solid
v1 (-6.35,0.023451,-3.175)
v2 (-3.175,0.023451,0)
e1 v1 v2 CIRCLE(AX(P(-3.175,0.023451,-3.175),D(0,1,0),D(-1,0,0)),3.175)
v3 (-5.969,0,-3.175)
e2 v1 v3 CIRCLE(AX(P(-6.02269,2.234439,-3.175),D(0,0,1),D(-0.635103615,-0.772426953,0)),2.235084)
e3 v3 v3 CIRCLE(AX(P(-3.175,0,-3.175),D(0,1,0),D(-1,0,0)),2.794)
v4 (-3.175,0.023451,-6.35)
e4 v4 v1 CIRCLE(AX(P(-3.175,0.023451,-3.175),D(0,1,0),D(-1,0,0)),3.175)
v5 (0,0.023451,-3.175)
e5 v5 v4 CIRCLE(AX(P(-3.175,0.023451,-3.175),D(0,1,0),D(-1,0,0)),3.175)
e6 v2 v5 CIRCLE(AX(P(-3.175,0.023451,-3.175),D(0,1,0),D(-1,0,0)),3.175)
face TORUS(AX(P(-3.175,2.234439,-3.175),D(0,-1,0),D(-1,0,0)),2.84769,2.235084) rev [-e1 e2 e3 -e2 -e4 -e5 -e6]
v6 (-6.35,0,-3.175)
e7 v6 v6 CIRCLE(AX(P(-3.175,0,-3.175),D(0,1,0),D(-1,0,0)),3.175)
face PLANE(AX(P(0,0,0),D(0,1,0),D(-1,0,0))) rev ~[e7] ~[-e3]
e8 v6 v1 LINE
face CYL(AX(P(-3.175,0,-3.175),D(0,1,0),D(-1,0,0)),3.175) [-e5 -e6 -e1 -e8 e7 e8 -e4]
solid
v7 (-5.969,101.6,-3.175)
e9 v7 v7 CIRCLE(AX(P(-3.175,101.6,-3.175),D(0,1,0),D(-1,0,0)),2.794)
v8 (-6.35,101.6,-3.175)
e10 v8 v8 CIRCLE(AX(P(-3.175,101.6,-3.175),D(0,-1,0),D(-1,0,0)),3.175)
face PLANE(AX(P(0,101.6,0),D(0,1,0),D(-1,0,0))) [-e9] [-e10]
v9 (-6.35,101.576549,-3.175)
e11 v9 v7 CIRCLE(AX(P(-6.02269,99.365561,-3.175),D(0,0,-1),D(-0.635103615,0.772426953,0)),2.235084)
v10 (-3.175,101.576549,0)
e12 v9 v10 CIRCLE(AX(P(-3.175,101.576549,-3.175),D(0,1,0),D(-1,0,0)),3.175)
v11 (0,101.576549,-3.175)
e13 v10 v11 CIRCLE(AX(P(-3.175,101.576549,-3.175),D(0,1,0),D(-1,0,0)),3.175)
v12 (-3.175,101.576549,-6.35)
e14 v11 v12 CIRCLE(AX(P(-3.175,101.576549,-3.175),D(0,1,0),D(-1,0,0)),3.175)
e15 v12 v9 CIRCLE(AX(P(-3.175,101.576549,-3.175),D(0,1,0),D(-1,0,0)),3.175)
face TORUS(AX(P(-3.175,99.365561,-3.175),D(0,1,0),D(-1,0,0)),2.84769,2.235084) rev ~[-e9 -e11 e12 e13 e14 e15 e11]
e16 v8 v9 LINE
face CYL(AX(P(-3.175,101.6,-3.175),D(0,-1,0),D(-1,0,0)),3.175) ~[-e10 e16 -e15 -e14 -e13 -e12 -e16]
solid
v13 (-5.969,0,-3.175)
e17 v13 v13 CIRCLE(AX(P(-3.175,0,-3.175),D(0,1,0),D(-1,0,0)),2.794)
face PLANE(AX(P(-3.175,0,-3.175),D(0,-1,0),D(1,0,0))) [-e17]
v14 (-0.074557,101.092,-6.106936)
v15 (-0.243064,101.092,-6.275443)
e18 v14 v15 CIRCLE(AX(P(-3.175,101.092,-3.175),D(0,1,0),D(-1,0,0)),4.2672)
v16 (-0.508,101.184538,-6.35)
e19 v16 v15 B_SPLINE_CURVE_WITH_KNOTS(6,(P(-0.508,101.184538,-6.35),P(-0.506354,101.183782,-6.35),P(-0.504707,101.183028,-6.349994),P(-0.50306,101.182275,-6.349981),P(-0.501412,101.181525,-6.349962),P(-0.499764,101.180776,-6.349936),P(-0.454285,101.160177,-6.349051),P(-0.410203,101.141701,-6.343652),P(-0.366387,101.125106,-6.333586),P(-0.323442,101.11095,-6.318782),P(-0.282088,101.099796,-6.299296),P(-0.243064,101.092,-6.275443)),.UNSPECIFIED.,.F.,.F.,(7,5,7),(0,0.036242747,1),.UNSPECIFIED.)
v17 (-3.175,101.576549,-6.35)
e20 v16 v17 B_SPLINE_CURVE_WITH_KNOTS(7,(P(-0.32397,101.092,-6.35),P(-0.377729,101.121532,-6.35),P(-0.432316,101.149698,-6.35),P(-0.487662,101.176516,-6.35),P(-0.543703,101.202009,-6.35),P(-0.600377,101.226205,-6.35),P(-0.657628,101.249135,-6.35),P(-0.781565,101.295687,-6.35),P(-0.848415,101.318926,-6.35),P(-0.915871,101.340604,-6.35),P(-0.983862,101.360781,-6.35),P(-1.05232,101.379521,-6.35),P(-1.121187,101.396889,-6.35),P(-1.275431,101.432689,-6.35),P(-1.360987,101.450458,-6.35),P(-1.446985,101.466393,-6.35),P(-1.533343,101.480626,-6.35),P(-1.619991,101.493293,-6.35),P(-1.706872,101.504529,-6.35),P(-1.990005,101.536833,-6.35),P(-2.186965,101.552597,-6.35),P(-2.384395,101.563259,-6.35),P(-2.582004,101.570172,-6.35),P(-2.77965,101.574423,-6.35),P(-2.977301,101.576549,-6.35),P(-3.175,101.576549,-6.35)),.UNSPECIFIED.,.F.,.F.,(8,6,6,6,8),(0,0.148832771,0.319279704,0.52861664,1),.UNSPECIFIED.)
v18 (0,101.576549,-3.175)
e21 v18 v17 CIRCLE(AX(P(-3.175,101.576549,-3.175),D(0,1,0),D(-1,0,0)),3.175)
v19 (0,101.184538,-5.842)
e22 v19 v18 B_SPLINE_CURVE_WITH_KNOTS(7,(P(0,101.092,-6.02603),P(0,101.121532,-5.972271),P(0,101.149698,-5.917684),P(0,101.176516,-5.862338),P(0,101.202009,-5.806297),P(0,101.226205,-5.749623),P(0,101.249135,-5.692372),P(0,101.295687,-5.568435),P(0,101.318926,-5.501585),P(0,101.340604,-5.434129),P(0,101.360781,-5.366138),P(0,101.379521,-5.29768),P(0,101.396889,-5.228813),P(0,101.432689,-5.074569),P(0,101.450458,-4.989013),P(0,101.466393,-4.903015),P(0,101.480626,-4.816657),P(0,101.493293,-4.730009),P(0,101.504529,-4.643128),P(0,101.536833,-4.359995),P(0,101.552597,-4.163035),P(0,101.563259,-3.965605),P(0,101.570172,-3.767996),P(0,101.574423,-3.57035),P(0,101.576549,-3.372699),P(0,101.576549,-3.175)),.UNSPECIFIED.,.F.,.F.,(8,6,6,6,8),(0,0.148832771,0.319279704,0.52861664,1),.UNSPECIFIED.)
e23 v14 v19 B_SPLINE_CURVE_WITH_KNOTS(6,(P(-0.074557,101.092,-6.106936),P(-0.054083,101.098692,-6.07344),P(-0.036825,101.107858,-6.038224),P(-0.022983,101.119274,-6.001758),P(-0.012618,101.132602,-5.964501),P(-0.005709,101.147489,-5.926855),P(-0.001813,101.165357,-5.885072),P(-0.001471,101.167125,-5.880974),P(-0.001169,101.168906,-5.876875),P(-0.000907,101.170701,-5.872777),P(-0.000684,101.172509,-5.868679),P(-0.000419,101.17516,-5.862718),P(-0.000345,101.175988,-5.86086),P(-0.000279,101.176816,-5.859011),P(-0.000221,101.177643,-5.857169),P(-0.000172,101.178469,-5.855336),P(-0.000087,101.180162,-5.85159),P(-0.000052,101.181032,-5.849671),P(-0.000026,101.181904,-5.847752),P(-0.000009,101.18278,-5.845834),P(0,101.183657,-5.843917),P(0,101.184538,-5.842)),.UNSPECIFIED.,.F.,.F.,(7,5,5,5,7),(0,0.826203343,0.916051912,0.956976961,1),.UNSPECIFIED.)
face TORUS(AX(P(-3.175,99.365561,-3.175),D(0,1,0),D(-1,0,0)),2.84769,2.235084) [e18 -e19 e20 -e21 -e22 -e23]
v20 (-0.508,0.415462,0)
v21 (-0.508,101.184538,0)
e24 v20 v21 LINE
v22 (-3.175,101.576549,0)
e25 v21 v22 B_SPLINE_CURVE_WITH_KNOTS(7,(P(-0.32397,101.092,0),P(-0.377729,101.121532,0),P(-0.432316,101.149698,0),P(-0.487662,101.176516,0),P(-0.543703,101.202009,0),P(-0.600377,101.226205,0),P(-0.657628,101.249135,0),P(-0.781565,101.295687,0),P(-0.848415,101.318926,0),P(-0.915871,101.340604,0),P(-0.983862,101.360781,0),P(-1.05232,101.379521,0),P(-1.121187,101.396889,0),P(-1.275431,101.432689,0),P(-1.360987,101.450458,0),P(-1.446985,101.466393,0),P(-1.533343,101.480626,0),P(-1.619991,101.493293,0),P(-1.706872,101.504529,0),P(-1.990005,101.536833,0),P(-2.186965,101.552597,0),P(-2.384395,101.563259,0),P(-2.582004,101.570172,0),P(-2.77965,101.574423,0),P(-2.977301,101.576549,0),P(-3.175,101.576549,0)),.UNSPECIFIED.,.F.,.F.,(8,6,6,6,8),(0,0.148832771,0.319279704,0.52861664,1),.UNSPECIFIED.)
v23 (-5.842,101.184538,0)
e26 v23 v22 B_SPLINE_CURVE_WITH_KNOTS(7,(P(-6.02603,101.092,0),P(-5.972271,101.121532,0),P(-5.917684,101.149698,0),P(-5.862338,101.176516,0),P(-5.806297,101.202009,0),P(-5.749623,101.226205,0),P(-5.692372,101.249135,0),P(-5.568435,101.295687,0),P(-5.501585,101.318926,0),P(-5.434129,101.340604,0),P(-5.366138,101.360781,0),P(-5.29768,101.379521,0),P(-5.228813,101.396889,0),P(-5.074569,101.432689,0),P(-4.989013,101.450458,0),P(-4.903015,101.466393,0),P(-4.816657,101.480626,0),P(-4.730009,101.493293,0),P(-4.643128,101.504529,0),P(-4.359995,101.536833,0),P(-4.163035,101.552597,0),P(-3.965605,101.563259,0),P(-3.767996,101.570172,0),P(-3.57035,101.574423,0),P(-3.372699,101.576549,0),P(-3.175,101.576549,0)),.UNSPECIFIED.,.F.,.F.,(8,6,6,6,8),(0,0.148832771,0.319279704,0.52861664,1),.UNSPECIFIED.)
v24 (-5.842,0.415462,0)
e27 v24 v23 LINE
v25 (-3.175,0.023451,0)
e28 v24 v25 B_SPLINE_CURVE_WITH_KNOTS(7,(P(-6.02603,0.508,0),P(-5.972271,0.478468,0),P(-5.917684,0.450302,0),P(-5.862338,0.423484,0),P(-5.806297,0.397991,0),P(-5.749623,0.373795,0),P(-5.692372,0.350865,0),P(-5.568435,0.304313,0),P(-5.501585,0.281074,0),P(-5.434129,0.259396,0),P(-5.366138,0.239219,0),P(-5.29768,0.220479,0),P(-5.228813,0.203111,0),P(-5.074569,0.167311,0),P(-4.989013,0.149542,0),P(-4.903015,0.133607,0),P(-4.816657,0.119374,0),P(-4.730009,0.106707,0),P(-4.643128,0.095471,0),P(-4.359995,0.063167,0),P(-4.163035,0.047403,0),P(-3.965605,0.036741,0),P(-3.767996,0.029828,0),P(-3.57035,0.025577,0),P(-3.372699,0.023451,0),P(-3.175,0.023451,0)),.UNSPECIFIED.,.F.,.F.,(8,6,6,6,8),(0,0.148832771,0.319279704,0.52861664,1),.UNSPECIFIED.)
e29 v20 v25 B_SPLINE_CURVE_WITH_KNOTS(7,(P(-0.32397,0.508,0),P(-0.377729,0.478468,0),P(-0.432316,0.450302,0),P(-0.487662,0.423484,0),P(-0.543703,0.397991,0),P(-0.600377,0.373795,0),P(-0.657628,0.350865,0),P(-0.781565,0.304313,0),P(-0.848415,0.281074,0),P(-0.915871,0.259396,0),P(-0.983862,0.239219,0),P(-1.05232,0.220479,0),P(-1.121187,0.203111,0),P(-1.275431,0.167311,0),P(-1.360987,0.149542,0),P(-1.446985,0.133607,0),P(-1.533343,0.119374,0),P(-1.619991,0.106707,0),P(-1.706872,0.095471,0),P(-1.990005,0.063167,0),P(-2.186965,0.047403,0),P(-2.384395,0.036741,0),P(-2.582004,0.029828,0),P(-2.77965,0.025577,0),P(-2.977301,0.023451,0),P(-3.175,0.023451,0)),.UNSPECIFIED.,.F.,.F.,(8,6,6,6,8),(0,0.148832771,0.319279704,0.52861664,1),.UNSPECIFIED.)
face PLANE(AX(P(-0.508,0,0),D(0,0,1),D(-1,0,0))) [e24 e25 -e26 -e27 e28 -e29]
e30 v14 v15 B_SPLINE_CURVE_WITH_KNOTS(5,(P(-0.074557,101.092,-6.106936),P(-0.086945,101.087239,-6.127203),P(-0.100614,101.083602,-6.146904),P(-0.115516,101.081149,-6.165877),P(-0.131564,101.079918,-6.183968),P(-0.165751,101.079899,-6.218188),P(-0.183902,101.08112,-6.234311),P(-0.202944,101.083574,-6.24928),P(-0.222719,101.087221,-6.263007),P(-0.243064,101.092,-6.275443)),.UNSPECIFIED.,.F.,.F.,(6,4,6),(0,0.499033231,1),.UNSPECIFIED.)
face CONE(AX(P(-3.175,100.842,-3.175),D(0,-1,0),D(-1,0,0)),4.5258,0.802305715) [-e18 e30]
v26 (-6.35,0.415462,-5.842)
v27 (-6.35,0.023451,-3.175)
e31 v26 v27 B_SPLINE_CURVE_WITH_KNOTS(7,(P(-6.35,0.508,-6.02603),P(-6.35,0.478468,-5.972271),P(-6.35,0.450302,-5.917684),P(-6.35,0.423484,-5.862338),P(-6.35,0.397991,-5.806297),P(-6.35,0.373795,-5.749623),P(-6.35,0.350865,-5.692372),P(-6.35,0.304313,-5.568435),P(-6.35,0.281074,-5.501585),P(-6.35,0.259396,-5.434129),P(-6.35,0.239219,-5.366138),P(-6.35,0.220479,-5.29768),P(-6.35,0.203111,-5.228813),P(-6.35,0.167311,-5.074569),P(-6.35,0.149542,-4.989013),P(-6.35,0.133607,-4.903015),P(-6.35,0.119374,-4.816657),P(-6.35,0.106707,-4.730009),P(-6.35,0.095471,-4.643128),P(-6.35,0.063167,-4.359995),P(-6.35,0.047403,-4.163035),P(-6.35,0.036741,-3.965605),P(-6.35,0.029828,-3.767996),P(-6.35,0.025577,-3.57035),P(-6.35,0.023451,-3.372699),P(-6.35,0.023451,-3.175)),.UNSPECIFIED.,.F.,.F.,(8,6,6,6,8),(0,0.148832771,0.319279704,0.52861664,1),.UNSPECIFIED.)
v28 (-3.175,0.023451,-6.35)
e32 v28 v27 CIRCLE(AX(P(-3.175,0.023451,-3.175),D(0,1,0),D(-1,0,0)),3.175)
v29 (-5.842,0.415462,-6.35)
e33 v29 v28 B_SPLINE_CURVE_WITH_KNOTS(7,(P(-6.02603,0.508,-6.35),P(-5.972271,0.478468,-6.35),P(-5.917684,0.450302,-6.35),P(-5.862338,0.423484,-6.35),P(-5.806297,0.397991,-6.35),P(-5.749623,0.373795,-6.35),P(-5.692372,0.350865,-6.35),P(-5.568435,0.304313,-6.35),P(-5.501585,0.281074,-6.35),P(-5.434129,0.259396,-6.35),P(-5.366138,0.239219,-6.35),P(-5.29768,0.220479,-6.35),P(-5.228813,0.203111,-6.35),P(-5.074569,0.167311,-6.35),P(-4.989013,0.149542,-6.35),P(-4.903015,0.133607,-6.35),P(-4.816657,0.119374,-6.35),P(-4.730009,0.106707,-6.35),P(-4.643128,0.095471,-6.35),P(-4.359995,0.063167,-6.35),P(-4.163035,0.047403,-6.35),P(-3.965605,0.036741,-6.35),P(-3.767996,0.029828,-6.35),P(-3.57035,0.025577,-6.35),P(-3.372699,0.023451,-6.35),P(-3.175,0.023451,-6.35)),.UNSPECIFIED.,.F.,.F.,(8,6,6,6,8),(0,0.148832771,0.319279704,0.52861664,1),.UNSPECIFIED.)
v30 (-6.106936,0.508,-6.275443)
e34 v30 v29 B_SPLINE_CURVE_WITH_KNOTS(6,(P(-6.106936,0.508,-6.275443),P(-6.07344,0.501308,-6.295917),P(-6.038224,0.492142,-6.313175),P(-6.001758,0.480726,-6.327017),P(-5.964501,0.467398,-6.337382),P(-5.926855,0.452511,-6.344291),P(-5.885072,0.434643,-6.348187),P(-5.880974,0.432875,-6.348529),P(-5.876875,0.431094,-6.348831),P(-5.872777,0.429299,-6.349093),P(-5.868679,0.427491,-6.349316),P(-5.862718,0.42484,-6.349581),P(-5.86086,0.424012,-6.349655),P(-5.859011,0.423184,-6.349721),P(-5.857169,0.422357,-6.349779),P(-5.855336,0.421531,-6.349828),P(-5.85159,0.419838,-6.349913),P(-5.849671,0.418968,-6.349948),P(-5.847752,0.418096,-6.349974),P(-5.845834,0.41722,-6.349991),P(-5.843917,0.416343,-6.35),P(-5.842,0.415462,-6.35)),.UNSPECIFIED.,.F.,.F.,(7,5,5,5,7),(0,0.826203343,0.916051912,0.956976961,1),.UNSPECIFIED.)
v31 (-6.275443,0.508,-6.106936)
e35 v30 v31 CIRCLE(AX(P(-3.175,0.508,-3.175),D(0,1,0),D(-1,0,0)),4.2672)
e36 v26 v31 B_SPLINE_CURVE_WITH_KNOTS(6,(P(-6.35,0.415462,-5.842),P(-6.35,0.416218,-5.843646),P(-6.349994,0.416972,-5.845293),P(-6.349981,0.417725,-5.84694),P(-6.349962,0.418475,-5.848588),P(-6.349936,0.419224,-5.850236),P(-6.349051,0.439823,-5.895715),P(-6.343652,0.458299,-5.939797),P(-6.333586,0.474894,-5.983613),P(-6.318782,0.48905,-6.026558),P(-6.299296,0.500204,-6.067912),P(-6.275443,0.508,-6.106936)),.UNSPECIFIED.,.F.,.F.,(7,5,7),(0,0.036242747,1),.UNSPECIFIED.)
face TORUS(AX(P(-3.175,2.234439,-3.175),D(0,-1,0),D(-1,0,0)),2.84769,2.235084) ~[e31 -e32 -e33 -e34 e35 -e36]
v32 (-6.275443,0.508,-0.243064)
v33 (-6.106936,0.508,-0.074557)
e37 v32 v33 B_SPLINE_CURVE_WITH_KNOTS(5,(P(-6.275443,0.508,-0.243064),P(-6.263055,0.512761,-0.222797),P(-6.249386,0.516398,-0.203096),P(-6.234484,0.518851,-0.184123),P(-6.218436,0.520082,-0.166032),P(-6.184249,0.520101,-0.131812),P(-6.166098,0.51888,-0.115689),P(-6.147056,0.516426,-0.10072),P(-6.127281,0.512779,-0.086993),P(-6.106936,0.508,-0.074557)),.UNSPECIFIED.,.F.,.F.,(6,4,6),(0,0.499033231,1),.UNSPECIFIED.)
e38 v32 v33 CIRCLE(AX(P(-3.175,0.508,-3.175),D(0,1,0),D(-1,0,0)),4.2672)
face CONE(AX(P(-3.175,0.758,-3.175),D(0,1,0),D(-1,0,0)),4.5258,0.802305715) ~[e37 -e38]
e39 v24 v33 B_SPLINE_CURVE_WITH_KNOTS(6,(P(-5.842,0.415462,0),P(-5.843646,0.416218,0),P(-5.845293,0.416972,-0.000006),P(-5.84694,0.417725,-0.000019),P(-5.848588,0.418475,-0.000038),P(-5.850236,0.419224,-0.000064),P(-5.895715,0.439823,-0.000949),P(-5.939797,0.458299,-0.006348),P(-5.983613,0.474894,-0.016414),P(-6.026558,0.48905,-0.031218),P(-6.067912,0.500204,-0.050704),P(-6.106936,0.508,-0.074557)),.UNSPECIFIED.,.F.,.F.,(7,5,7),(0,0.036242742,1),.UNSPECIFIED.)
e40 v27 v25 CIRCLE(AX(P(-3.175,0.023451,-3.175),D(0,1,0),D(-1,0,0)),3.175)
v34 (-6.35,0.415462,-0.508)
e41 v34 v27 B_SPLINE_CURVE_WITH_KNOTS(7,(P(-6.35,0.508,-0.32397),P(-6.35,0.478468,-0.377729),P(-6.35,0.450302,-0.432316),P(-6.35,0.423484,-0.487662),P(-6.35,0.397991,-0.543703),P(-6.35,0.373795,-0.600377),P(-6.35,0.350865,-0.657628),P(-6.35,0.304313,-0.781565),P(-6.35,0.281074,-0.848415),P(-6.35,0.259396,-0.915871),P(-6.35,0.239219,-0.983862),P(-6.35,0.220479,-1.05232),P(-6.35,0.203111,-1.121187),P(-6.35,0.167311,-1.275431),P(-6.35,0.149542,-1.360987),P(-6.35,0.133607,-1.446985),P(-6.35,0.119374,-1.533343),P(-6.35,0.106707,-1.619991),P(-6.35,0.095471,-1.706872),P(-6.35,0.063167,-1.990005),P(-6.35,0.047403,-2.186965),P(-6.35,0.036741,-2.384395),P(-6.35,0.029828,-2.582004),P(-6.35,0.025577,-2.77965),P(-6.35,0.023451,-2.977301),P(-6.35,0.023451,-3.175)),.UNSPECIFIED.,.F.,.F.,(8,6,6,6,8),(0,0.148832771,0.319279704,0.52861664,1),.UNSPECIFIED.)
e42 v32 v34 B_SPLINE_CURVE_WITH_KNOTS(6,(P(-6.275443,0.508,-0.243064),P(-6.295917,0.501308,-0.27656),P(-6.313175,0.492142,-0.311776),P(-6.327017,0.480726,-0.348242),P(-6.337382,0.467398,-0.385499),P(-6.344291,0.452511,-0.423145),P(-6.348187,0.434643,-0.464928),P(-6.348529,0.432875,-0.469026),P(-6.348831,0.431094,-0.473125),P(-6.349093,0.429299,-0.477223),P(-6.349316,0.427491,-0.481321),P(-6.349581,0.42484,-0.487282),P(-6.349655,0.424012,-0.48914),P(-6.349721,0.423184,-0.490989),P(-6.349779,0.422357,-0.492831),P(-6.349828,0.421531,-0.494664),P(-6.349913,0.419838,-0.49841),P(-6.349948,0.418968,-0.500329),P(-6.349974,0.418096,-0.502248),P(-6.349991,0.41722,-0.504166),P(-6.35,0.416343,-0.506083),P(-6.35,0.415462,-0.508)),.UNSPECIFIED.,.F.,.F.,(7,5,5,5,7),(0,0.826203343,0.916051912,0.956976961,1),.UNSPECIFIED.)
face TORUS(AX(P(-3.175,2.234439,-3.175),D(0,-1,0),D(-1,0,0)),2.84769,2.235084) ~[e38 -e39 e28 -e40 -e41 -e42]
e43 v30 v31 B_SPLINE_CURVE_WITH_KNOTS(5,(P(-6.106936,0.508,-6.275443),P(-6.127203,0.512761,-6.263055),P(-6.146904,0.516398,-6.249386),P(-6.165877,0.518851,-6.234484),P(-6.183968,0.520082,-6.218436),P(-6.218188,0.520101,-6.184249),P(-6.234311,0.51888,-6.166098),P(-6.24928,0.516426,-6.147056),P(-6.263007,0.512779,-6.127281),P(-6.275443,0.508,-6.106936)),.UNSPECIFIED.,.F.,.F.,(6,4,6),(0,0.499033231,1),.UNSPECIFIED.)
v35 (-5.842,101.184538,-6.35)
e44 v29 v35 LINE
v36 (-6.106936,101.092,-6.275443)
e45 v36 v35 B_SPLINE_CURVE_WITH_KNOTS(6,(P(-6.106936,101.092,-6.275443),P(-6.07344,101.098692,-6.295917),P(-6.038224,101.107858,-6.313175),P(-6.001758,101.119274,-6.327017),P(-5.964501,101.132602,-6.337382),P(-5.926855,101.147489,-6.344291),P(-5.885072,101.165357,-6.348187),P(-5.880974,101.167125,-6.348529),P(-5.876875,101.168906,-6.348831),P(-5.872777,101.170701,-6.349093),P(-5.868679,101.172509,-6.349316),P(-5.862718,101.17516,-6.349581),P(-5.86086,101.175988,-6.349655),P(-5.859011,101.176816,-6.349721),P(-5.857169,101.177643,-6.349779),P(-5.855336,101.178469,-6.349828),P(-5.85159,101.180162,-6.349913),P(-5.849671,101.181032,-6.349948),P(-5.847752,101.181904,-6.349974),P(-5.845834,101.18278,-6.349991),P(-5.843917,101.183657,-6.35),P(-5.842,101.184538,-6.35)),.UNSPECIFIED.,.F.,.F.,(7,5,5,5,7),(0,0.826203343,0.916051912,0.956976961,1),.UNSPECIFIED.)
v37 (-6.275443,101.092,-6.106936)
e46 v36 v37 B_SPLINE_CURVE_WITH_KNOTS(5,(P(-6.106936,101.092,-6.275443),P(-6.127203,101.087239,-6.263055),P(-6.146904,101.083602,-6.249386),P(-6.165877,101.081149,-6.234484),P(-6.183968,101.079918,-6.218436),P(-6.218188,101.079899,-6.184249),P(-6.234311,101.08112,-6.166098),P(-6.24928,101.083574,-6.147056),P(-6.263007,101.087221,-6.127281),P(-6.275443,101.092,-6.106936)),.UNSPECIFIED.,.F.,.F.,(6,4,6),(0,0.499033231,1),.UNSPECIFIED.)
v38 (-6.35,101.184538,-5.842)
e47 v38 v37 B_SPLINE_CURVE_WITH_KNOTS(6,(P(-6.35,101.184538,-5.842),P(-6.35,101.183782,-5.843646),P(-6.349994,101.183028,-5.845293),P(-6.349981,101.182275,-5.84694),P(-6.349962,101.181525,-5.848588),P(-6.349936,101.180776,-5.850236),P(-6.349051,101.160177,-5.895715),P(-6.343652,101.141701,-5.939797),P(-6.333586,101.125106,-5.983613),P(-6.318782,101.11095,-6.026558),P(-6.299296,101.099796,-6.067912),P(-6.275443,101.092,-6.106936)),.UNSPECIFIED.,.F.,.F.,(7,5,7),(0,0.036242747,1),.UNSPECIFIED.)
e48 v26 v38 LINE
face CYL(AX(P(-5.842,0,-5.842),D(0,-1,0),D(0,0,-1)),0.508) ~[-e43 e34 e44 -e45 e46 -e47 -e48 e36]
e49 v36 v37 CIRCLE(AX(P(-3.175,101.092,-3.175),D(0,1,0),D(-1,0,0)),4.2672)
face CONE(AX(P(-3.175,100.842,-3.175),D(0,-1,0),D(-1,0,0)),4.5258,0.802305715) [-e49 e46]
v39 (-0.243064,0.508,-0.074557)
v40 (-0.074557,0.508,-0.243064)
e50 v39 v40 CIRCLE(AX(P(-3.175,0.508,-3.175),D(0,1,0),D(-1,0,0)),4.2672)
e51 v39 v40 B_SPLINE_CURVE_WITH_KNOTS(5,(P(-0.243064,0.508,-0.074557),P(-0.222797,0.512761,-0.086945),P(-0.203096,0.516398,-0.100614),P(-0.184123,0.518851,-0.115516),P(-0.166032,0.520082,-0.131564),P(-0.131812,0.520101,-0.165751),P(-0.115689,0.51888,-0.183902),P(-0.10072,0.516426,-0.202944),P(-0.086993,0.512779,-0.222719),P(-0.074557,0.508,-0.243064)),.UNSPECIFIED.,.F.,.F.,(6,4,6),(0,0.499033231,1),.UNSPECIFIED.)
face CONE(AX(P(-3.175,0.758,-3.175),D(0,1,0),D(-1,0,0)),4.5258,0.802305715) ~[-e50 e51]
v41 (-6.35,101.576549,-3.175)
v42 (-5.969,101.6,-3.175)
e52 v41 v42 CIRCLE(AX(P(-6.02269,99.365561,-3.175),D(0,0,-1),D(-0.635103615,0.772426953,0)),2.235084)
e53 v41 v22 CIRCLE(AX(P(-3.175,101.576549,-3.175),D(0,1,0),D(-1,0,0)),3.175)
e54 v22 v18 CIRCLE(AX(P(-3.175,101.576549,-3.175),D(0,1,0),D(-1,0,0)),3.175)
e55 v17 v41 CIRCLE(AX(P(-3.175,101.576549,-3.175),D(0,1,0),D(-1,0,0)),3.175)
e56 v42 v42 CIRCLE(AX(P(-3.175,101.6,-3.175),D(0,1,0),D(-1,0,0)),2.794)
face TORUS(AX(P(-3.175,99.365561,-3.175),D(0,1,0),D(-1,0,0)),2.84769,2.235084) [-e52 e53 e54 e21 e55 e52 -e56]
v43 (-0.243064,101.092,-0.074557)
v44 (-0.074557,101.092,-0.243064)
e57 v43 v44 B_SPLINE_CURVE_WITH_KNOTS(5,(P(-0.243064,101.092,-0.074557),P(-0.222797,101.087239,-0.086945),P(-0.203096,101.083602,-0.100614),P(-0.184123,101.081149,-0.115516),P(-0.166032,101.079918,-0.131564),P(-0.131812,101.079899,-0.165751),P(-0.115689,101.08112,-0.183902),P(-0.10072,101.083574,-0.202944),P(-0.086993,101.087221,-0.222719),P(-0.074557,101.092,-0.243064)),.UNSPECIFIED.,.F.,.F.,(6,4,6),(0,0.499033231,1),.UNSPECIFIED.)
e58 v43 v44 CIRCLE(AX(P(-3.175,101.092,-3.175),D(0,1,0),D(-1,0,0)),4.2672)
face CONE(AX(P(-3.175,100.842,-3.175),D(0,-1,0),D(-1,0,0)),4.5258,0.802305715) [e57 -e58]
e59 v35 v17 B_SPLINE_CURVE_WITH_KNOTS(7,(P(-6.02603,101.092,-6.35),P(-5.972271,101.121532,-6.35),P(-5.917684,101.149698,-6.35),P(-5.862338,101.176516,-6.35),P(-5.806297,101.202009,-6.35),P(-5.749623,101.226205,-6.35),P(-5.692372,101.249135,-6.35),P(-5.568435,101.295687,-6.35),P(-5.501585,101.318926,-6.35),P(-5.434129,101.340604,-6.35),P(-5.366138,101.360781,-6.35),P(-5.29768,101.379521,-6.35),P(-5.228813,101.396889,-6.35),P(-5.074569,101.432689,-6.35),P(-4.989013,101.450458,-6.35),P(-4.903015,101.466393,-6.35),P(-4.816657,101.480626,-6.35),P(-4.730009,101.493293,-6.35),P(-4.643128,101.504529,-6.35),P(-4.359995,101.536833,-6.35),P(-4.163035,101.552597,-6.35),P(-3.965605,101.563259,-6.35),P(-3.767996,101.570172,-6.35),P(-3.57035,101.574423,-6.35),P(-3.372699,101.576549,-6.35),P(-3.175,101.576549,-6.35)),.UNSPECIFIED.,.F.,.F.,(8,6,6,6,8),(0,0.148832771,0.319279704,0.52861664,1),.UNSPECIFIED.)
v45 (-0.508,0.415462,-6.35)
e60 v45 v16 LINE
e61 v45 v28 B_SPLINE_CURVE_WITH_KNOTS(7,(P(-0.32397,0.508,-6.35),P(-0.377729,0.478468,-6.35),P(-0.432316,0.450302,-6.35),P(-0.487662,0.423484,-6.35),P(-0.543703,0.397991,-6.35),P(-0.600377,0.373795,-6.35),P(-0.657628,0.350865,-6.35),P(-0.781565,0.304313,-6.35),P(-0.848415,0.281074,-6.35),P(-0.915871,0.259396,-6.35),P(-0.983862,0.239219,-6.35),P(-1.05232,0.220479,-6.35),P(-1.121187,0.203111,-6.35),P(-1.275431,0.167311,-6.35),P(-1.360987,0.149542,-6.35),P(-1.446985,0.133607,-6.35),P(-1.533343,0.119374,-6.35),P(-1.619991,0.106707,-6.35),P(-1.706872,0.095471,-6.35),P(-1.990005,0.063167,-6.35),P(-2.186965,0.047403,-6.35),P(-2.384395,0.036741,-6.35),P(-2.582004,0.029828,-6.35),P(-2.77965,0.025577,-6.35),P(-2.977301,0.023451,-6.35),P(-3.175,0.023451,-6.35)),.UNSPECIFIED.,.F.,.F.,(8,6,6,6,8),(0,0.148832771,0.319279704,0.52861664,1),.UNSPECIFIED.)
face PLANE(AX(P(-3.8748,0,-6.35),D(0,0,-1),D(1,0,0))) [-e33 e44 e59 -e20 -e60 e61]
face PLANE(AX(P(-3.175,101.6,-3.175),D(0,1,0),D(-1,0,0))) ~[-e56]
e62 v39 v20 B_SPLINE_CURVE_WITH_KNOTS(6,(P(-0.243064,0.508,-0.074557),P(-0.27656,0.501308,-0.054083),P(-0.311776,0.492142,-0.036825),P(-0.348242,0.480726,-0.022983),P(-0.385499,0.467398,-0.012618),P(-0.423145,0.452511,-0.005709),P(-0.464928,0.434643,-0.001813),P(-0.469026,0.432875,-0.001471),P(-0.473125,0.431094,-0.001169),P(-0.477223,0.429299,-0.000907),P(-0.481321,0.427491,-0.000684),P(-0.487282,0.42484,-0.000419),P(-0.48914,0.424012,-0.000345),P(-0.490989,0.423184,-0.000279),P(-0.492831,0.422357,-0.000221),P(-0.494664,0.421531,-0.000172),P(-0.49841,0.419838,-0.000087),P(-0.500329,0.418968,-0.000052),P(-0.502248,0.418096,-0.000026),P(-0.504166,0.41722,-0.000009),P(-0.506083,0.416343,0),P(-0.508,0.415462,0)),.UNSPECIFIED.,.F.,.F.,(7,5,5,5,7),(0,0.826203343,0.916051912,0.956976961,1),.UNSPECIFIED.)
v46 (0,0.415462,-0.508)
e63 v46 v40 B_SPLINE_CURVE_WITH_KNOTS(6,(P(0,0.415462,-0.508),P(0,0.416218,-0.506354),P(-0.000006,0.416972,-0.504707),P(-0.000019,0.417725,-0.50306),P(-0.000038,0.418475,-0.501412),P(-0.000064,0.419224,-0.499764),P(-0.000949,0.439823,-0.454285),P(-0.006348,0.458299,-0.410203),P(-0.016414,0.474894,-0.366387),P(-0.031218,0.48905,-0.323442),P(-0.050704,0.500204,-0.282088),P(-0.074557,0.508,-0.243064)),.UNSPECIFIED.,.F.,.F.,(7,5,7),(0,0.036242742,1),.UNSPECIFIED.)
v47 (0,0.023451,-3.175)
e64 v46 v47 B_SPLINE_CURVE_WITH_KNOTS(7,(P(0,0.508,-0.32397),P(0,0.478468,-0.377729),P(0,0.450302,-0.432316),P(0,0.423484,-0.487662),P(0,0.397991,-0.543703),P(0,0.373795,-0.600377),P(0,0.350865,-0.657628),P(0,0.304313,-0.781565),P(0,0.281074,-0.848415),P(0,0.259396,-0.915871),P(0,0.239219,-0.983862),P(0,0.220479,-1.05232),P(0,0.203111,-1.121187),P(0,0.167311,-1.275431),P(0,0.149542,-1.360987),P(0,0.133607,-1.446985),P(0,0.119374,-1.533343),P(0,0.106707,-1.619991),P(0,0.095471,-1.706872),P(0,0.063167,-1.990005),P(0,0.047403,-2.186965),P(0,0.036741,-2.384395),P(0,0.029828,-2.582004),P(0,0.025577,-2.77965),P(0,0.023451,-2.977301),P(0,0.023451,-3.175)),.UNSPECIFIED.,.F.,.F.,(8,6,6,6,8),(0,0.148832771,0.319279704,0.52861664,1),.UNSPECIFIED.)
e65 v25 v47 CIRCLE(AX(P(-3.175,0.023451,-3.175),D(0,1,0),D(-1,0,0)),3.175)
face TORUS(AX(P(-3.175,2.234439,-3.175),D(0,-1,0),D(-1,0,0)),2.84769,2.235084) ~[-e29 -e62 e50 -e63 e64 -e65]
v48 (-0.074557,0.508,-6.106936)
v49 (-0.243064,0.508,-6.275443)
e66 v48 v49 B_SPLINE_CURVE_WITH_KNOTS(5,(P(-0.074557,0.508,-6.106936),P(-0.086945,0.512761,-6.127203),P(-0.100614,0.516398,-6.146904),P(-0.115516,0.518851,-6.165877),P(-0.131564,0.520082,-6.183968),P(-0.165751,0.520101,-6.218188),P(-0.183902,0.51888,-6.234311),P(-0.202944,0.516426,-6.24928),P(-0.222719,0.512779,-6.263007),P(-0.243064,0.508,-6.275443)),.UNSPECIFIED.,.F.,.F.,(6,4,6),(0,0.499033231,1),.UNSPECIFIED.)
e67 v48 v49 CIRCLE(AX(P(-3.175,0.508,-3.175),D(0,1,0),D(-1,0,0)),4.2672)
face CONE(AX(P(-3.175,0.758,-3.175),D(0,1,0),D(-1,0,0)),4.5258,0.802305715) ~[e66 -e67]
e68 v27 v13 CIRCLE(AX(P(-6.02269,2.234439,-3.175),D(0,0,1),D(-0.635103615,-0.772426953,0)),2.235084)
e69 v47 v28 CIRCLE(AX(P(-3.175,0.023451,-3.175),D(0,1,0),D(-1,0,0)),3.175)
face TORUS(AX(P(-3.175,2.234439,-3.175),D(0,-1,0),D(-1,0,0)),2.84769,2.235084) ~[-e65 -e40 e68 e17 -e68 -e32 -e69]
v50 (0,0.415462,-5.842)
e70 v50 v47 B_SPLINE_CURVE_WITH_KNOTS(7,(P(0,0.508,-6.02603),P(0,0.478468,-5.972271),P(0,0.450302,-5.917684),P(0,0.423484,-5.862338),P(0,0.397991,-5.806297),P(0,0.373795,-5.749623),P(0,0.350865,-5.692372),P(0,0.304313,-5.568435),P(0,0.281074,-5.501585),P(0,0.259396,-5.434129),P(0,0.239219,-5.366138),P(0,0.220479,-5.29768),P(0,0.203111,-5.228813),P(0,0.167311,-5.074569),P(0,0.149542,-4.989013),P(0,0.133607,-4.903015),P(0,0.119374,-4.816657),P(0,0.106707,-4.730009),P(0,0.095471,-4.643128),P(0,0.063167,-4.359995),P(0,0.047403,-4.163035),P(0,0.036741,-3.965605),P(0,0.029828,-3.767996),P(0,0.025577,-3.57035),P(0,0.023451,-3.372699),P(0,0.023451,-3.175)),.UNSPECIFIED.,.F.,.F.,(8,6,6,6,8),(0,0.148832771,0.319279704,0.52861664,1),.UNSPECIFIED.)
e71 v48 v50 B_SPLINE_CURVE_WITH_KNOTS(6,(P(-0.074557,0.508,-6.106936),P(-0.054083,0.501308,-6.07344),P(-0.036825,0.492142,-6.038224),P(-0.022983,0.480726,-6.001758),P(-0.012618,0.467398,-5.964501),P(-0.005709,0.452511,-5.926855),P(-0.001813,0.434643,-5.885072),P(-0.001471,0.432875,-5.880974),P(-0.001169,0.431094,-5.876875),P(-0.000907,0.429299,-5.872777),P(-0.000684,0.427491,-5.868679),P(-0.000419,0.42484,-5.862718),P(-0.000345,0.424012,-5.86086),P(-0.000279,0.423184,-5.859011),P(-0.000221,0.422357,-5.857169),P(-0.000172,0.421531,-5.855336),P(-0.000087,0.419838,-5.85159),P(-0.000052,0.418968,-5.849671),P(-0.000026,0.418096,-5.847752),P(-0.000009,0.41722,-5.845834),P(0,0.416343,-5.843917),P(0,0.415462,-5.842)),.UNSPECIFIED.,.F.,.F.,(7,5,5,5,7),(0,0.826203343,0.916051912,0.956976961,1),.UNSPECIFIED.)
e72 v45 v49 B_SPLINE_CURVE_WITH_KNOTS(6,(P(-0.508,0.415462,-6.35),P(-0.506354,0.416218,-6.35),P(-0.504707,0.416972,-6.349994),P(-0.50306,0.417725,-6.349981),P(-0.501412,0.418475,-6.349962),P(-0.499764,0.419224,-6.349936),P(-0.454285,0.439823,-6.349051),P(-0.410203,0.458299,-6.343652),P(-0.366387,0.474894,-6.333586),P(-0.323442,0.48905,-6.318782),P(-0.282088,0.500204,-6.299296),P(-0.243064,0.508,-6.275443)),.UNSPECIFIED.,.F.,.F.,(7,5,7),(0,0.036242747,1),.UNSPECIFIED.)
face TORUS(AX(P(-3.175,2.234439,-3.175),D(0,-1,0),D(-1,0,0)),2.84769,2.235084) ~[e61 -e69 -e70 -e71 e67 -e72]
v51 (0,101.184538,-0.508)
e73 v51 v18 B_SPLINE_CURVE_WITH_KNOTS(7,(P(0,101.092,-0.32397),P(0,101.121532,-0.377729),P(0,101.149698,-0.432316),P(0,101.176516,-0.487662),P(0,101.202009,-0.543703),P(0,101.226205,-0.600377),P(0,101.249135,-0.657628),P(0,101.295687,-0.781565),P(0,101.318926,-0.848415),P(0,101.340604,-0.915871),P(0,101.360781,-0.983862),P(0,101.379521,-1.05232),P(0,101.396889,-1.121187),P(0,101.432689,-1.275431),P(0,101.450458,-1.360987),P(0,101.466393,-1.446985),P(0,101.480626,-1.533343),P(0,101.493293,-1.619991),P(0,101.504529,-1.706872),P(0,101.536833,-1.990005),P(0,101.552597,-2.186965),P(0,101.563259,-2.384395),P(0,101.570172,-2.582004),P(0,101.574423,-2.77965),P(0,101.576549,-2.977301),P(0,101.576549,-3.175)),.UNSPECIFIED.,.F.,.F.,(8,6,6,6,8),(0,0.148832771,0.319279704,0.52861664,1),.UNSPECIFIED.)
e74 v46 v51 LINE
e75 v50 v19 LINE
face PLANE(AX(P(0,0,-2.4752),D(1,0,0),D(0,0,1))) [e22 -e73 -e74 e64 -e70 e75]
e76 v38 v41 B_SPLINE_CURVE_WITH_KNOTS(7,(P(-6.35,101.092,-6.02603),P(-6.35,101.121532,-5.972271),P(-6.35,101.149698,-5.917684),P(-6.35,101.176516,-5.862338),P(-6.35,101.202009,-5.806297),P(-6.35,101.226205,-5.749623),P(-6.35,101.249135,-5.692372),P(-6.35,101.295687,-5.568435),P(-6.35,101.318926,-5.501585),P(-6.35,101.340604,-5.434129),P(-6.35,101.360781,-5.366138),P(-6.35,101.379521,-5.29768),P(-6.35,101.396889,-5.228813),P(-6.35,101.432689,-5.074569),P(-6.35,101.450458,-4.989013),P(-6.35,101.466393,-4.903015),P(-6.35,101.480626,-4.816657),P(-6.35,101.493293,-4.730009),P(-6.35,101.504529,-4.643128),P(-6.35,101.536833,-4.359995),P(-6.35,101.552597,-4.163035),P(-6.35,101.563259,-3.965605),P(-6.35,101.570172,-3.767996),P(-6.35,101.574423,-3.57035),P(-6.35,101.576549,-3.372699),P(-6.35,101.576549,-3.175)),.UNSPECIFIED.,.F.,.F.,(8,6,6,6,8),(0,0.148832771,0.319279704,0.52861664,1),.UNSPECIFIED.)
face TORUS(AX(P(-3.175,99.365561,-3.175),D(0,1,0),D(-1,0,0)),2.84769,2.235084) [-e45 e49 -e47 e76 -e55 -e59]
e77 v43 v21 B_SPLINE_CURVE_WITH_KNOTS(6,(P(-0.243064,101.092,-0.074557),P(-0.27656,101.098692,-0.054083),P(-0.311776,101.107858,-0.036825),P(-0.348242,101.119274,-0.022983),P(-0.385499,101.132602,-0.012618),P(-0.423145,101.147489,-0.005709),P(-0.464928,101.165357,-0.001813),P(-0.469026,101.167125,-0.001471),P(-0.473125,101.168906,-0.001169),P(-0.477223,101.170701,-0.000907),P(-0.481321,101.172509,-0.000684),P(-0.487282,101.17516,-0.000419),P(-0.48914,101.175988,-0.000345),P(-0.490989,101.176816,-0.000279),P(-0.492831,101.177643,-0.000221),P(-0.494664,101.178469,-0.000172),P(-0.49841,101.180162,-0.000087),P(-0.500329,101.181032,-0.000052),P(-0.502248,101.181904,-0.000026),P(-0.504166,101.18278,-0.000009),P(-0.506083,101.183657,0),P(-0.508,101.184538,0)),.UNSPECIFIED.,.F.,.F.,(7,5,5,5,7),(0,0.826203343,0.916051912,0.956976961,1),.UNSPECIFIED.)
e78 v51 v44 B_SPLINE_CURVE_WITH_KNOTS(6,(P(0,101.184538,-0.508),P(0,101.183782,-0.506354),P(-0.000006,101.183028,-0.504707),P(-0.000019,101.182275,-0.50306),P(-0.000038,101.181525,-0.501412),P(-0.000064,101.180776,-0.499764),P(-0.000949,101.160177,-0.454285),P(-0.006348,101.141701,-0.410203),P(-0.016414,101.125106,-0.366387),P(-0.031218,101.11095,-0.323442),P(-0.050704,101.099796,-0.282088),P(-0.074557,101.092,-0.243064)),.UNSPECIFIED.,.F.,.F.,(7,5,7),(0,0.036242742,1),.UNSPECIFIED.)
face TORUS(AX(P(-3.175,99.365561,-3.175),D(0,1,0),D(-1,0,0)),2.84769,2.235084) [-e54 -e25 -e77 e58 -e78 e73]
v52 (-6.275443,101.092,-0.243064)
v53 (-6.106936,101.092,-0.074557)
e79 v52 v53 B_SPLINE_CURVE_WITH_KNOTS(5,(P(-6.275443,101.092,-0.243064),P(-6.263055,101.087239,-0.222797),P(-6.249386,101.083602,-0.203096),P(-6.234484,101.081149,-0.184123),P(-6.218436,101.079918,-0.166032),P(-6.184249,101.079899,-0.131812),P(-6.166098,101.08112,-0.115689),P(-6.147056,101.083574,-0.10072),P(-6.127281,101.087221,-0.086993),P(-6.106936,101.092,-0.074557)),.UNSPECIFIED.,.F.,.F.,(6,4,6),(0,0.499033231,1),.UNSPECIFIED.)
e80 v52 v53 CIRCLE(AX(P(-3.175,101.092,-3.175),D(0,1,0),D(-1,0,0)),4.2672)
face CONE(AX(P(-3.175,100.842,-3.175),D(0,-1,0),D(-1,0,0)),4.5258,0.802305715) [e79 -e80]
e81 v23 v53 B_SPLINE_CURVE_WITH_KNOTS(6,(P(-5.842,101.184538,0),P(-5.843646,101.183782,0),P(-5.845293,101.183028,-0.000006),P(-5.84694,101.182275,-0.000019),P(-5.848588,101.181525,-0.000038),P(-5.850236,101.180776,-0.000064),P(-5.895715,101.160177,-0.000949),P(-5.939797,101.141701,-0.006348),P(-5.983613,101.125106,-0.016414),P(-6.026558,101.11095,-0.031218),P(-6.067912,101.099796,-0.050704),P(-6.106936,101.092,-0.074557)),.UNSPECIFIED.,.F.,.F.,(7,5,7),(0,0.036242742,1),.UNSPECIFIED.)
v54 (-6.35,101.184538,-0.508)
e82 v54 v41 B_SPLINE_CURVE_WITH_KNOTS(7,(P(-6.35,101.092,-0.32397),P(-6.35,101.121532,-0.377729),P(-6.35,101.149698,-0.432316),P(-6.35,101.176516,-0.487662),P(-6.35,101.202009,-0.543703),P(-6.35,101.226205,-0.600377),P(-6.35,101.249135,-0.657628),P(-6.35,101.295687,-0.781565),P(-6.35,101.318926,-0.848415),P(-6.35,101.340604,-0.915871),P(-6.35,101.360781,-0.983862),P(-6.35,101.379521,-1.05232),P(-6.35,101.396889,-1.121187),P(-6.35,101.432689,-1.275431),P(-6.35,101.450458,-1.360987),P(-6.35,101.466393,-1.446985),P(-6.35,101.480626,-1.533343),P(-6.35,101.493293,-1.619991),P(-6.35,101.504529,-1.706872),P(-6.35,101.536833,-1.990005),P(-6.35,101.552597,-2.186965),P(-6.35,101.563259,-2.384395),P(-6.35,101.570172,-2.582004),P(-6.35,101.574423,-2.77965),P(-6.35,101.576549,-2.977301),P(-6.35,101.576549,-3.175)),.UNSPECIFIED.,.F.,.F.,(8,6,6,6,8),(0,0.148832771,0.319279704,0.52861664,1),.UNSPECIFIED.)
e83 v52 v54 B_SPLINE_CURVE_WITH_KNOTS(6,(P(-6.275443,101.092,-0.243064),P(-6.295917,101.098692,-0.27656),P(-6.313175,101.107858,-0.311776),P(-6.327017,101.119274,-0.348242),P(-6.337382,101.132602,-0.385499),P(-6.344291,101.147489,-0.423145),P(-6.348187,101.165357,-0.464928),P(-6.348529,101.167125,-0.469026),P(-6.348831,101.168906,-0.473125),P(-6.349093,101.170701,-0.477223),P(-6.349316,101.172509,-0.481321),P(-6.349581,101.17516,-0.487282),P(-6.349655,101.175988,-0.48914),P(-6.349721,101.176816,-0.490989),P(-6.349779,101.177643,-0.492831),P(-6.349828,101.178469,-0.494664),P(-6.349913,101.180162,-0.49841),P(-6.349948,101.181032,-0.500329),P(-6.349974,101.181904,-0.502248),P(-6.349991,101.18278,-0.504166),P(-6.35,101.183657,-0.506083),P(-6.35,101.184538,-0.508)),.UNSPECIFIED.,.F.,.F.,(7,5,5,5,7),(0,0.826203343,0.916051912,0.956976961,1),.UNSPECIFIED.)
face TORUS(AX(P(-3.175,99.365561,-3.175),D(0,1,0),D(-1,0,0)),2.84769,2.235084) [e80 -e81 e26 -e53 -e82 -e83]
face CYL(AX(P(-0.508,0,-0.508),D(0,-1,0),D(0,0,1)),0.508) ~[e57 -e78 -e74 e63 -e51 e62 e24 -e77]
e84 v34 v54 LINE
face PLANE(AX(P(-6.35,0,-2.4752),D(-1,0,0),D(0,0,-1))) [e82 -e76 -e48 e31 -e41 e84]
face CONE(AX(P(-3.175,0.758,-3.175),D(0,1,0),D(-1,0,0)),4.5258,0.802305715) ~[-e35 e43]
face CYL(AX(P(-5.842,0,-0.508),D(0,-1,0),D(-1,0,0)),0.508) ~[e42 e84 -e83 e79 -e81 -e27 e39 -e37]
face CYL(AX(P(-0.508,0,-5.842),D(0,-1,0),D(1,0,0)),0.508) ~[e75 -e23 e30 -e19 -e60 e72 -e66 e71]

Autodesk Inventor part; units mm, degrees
ref_plane "YZ Plane" through (0, 0, 0) normal (1, 0, 0) x (0, 1, 0)
sketch "Sketch1" plane through (0, 0, 0) normal (0, 1, 0) x (-1, 0, 0)
  line L0 (0.508, 0) -> (5.842, 0)
  line L1 (6.35, -0.508) -> (6.35, -5.842)
  line L2 (5.842, -6.35) -> (0.508, -6.35)
  line L3 (0, -5.842) -> (0, -0.508)
  arc A0 (5.842, -6.35) -> (6.35, -5.842) centre (5.842, -5.842) ccw
  arc A1 (0, -5.842) -> (0.508, -6.35) centre (0.508, -5.842) ccw
  arc A2 (0.508, 0) -> (0, -0.508) centre (0.508, -0.508) ccw
  arc A3 (6.35, -0.508) -> (5.842, 0) centre (5.842, -0.508) ccw
  arc A4 (3.8748, -6.35) -> (6.35, -3.8748) centre (3.175, -3.175) ccw
  arc A5 (0, -3.8748) -> (2.4752, -6.35) centre (3.175, -3.175) ccw
  arc A6 (6.35, -2.4752) -> (3.8748, 0) centre (3.175, -3.175) ccw
  arc A7 (2.4752, 0) -> (0, -2.4752) centre (3.175, -3.175) ccw
  point P0 (0, 0)
  point P1 (6.35, -6.35)
  point P2 (6.35, 0)
  point P3 (0, -6.35)
  dimension "d0" = 6.35
  dimension "d1" = 6.35
  dimension "d2" = 0.508
extrude "Extrusion1" add sketch "Sketch1" along normal blind 101.6
ref_plane "Work Plane1" through (-0.508, 0, -3.175) normal (0, 0, -1) x (-1, 0, 0)
sketch "Sketch2" plane through (-0.508, 0, -3.175) normal (0, 0, -1) x (-1, 0, 0)
  line L0 (-0.508, 0) -> (-0.508, 101.6) projected
  line L1 (-0.508, 101.6) -> (5.842, 101.6) projected
  line L2 (5.842, 101.6) -> (5.842, 0) projected
  line L3 (5.842, 0) -> (-0.508, 0) projected
  line L4 (2.667, 101.6) -> (2.667, 102.3112)
  line L5 (2.667, 102.3112) -> (6.9342, 102.3112)
  line L6 (2.667, 101.6) -> (5.461, 101.6)
  arc A0 (6.9342, 101.092) -> (5.461, 101.6) centre (5.5146, 99.3654) ccw
  line L7 (6.9342, 102.3112) -> (7.1928, 102.3112)
  line L8 (7.1928, 102.3112) -> (7.1928, 100.842)
  line L9 (7.1928, 100.842) -> (6.9342, 101.092)
  dimension "d6" = 0.7112
  dimension "d7" = 4.2672
  dimension "d8" = 1.2192
  dimension "d9" = 2.794
  dimension "d10" = 2.2352
revolve "Revolution1" cut sketch "Sketch2" angle 360 about axis through (-3.175, 101.6, -3.175) along (0, 1, 0) contours L4 L5 L7 L8 L9 A0 L1
ref_plane "Work Plane2" through (-3.175, 50.8, -3.175) normal (0, 1, 0) x (1, 0, 0)
mirror "Mirror1" about plane through (-3.175, 50.8, -3.175) normal (0, 1, 0) of "Revolution1"
properties part number "276-3523"
